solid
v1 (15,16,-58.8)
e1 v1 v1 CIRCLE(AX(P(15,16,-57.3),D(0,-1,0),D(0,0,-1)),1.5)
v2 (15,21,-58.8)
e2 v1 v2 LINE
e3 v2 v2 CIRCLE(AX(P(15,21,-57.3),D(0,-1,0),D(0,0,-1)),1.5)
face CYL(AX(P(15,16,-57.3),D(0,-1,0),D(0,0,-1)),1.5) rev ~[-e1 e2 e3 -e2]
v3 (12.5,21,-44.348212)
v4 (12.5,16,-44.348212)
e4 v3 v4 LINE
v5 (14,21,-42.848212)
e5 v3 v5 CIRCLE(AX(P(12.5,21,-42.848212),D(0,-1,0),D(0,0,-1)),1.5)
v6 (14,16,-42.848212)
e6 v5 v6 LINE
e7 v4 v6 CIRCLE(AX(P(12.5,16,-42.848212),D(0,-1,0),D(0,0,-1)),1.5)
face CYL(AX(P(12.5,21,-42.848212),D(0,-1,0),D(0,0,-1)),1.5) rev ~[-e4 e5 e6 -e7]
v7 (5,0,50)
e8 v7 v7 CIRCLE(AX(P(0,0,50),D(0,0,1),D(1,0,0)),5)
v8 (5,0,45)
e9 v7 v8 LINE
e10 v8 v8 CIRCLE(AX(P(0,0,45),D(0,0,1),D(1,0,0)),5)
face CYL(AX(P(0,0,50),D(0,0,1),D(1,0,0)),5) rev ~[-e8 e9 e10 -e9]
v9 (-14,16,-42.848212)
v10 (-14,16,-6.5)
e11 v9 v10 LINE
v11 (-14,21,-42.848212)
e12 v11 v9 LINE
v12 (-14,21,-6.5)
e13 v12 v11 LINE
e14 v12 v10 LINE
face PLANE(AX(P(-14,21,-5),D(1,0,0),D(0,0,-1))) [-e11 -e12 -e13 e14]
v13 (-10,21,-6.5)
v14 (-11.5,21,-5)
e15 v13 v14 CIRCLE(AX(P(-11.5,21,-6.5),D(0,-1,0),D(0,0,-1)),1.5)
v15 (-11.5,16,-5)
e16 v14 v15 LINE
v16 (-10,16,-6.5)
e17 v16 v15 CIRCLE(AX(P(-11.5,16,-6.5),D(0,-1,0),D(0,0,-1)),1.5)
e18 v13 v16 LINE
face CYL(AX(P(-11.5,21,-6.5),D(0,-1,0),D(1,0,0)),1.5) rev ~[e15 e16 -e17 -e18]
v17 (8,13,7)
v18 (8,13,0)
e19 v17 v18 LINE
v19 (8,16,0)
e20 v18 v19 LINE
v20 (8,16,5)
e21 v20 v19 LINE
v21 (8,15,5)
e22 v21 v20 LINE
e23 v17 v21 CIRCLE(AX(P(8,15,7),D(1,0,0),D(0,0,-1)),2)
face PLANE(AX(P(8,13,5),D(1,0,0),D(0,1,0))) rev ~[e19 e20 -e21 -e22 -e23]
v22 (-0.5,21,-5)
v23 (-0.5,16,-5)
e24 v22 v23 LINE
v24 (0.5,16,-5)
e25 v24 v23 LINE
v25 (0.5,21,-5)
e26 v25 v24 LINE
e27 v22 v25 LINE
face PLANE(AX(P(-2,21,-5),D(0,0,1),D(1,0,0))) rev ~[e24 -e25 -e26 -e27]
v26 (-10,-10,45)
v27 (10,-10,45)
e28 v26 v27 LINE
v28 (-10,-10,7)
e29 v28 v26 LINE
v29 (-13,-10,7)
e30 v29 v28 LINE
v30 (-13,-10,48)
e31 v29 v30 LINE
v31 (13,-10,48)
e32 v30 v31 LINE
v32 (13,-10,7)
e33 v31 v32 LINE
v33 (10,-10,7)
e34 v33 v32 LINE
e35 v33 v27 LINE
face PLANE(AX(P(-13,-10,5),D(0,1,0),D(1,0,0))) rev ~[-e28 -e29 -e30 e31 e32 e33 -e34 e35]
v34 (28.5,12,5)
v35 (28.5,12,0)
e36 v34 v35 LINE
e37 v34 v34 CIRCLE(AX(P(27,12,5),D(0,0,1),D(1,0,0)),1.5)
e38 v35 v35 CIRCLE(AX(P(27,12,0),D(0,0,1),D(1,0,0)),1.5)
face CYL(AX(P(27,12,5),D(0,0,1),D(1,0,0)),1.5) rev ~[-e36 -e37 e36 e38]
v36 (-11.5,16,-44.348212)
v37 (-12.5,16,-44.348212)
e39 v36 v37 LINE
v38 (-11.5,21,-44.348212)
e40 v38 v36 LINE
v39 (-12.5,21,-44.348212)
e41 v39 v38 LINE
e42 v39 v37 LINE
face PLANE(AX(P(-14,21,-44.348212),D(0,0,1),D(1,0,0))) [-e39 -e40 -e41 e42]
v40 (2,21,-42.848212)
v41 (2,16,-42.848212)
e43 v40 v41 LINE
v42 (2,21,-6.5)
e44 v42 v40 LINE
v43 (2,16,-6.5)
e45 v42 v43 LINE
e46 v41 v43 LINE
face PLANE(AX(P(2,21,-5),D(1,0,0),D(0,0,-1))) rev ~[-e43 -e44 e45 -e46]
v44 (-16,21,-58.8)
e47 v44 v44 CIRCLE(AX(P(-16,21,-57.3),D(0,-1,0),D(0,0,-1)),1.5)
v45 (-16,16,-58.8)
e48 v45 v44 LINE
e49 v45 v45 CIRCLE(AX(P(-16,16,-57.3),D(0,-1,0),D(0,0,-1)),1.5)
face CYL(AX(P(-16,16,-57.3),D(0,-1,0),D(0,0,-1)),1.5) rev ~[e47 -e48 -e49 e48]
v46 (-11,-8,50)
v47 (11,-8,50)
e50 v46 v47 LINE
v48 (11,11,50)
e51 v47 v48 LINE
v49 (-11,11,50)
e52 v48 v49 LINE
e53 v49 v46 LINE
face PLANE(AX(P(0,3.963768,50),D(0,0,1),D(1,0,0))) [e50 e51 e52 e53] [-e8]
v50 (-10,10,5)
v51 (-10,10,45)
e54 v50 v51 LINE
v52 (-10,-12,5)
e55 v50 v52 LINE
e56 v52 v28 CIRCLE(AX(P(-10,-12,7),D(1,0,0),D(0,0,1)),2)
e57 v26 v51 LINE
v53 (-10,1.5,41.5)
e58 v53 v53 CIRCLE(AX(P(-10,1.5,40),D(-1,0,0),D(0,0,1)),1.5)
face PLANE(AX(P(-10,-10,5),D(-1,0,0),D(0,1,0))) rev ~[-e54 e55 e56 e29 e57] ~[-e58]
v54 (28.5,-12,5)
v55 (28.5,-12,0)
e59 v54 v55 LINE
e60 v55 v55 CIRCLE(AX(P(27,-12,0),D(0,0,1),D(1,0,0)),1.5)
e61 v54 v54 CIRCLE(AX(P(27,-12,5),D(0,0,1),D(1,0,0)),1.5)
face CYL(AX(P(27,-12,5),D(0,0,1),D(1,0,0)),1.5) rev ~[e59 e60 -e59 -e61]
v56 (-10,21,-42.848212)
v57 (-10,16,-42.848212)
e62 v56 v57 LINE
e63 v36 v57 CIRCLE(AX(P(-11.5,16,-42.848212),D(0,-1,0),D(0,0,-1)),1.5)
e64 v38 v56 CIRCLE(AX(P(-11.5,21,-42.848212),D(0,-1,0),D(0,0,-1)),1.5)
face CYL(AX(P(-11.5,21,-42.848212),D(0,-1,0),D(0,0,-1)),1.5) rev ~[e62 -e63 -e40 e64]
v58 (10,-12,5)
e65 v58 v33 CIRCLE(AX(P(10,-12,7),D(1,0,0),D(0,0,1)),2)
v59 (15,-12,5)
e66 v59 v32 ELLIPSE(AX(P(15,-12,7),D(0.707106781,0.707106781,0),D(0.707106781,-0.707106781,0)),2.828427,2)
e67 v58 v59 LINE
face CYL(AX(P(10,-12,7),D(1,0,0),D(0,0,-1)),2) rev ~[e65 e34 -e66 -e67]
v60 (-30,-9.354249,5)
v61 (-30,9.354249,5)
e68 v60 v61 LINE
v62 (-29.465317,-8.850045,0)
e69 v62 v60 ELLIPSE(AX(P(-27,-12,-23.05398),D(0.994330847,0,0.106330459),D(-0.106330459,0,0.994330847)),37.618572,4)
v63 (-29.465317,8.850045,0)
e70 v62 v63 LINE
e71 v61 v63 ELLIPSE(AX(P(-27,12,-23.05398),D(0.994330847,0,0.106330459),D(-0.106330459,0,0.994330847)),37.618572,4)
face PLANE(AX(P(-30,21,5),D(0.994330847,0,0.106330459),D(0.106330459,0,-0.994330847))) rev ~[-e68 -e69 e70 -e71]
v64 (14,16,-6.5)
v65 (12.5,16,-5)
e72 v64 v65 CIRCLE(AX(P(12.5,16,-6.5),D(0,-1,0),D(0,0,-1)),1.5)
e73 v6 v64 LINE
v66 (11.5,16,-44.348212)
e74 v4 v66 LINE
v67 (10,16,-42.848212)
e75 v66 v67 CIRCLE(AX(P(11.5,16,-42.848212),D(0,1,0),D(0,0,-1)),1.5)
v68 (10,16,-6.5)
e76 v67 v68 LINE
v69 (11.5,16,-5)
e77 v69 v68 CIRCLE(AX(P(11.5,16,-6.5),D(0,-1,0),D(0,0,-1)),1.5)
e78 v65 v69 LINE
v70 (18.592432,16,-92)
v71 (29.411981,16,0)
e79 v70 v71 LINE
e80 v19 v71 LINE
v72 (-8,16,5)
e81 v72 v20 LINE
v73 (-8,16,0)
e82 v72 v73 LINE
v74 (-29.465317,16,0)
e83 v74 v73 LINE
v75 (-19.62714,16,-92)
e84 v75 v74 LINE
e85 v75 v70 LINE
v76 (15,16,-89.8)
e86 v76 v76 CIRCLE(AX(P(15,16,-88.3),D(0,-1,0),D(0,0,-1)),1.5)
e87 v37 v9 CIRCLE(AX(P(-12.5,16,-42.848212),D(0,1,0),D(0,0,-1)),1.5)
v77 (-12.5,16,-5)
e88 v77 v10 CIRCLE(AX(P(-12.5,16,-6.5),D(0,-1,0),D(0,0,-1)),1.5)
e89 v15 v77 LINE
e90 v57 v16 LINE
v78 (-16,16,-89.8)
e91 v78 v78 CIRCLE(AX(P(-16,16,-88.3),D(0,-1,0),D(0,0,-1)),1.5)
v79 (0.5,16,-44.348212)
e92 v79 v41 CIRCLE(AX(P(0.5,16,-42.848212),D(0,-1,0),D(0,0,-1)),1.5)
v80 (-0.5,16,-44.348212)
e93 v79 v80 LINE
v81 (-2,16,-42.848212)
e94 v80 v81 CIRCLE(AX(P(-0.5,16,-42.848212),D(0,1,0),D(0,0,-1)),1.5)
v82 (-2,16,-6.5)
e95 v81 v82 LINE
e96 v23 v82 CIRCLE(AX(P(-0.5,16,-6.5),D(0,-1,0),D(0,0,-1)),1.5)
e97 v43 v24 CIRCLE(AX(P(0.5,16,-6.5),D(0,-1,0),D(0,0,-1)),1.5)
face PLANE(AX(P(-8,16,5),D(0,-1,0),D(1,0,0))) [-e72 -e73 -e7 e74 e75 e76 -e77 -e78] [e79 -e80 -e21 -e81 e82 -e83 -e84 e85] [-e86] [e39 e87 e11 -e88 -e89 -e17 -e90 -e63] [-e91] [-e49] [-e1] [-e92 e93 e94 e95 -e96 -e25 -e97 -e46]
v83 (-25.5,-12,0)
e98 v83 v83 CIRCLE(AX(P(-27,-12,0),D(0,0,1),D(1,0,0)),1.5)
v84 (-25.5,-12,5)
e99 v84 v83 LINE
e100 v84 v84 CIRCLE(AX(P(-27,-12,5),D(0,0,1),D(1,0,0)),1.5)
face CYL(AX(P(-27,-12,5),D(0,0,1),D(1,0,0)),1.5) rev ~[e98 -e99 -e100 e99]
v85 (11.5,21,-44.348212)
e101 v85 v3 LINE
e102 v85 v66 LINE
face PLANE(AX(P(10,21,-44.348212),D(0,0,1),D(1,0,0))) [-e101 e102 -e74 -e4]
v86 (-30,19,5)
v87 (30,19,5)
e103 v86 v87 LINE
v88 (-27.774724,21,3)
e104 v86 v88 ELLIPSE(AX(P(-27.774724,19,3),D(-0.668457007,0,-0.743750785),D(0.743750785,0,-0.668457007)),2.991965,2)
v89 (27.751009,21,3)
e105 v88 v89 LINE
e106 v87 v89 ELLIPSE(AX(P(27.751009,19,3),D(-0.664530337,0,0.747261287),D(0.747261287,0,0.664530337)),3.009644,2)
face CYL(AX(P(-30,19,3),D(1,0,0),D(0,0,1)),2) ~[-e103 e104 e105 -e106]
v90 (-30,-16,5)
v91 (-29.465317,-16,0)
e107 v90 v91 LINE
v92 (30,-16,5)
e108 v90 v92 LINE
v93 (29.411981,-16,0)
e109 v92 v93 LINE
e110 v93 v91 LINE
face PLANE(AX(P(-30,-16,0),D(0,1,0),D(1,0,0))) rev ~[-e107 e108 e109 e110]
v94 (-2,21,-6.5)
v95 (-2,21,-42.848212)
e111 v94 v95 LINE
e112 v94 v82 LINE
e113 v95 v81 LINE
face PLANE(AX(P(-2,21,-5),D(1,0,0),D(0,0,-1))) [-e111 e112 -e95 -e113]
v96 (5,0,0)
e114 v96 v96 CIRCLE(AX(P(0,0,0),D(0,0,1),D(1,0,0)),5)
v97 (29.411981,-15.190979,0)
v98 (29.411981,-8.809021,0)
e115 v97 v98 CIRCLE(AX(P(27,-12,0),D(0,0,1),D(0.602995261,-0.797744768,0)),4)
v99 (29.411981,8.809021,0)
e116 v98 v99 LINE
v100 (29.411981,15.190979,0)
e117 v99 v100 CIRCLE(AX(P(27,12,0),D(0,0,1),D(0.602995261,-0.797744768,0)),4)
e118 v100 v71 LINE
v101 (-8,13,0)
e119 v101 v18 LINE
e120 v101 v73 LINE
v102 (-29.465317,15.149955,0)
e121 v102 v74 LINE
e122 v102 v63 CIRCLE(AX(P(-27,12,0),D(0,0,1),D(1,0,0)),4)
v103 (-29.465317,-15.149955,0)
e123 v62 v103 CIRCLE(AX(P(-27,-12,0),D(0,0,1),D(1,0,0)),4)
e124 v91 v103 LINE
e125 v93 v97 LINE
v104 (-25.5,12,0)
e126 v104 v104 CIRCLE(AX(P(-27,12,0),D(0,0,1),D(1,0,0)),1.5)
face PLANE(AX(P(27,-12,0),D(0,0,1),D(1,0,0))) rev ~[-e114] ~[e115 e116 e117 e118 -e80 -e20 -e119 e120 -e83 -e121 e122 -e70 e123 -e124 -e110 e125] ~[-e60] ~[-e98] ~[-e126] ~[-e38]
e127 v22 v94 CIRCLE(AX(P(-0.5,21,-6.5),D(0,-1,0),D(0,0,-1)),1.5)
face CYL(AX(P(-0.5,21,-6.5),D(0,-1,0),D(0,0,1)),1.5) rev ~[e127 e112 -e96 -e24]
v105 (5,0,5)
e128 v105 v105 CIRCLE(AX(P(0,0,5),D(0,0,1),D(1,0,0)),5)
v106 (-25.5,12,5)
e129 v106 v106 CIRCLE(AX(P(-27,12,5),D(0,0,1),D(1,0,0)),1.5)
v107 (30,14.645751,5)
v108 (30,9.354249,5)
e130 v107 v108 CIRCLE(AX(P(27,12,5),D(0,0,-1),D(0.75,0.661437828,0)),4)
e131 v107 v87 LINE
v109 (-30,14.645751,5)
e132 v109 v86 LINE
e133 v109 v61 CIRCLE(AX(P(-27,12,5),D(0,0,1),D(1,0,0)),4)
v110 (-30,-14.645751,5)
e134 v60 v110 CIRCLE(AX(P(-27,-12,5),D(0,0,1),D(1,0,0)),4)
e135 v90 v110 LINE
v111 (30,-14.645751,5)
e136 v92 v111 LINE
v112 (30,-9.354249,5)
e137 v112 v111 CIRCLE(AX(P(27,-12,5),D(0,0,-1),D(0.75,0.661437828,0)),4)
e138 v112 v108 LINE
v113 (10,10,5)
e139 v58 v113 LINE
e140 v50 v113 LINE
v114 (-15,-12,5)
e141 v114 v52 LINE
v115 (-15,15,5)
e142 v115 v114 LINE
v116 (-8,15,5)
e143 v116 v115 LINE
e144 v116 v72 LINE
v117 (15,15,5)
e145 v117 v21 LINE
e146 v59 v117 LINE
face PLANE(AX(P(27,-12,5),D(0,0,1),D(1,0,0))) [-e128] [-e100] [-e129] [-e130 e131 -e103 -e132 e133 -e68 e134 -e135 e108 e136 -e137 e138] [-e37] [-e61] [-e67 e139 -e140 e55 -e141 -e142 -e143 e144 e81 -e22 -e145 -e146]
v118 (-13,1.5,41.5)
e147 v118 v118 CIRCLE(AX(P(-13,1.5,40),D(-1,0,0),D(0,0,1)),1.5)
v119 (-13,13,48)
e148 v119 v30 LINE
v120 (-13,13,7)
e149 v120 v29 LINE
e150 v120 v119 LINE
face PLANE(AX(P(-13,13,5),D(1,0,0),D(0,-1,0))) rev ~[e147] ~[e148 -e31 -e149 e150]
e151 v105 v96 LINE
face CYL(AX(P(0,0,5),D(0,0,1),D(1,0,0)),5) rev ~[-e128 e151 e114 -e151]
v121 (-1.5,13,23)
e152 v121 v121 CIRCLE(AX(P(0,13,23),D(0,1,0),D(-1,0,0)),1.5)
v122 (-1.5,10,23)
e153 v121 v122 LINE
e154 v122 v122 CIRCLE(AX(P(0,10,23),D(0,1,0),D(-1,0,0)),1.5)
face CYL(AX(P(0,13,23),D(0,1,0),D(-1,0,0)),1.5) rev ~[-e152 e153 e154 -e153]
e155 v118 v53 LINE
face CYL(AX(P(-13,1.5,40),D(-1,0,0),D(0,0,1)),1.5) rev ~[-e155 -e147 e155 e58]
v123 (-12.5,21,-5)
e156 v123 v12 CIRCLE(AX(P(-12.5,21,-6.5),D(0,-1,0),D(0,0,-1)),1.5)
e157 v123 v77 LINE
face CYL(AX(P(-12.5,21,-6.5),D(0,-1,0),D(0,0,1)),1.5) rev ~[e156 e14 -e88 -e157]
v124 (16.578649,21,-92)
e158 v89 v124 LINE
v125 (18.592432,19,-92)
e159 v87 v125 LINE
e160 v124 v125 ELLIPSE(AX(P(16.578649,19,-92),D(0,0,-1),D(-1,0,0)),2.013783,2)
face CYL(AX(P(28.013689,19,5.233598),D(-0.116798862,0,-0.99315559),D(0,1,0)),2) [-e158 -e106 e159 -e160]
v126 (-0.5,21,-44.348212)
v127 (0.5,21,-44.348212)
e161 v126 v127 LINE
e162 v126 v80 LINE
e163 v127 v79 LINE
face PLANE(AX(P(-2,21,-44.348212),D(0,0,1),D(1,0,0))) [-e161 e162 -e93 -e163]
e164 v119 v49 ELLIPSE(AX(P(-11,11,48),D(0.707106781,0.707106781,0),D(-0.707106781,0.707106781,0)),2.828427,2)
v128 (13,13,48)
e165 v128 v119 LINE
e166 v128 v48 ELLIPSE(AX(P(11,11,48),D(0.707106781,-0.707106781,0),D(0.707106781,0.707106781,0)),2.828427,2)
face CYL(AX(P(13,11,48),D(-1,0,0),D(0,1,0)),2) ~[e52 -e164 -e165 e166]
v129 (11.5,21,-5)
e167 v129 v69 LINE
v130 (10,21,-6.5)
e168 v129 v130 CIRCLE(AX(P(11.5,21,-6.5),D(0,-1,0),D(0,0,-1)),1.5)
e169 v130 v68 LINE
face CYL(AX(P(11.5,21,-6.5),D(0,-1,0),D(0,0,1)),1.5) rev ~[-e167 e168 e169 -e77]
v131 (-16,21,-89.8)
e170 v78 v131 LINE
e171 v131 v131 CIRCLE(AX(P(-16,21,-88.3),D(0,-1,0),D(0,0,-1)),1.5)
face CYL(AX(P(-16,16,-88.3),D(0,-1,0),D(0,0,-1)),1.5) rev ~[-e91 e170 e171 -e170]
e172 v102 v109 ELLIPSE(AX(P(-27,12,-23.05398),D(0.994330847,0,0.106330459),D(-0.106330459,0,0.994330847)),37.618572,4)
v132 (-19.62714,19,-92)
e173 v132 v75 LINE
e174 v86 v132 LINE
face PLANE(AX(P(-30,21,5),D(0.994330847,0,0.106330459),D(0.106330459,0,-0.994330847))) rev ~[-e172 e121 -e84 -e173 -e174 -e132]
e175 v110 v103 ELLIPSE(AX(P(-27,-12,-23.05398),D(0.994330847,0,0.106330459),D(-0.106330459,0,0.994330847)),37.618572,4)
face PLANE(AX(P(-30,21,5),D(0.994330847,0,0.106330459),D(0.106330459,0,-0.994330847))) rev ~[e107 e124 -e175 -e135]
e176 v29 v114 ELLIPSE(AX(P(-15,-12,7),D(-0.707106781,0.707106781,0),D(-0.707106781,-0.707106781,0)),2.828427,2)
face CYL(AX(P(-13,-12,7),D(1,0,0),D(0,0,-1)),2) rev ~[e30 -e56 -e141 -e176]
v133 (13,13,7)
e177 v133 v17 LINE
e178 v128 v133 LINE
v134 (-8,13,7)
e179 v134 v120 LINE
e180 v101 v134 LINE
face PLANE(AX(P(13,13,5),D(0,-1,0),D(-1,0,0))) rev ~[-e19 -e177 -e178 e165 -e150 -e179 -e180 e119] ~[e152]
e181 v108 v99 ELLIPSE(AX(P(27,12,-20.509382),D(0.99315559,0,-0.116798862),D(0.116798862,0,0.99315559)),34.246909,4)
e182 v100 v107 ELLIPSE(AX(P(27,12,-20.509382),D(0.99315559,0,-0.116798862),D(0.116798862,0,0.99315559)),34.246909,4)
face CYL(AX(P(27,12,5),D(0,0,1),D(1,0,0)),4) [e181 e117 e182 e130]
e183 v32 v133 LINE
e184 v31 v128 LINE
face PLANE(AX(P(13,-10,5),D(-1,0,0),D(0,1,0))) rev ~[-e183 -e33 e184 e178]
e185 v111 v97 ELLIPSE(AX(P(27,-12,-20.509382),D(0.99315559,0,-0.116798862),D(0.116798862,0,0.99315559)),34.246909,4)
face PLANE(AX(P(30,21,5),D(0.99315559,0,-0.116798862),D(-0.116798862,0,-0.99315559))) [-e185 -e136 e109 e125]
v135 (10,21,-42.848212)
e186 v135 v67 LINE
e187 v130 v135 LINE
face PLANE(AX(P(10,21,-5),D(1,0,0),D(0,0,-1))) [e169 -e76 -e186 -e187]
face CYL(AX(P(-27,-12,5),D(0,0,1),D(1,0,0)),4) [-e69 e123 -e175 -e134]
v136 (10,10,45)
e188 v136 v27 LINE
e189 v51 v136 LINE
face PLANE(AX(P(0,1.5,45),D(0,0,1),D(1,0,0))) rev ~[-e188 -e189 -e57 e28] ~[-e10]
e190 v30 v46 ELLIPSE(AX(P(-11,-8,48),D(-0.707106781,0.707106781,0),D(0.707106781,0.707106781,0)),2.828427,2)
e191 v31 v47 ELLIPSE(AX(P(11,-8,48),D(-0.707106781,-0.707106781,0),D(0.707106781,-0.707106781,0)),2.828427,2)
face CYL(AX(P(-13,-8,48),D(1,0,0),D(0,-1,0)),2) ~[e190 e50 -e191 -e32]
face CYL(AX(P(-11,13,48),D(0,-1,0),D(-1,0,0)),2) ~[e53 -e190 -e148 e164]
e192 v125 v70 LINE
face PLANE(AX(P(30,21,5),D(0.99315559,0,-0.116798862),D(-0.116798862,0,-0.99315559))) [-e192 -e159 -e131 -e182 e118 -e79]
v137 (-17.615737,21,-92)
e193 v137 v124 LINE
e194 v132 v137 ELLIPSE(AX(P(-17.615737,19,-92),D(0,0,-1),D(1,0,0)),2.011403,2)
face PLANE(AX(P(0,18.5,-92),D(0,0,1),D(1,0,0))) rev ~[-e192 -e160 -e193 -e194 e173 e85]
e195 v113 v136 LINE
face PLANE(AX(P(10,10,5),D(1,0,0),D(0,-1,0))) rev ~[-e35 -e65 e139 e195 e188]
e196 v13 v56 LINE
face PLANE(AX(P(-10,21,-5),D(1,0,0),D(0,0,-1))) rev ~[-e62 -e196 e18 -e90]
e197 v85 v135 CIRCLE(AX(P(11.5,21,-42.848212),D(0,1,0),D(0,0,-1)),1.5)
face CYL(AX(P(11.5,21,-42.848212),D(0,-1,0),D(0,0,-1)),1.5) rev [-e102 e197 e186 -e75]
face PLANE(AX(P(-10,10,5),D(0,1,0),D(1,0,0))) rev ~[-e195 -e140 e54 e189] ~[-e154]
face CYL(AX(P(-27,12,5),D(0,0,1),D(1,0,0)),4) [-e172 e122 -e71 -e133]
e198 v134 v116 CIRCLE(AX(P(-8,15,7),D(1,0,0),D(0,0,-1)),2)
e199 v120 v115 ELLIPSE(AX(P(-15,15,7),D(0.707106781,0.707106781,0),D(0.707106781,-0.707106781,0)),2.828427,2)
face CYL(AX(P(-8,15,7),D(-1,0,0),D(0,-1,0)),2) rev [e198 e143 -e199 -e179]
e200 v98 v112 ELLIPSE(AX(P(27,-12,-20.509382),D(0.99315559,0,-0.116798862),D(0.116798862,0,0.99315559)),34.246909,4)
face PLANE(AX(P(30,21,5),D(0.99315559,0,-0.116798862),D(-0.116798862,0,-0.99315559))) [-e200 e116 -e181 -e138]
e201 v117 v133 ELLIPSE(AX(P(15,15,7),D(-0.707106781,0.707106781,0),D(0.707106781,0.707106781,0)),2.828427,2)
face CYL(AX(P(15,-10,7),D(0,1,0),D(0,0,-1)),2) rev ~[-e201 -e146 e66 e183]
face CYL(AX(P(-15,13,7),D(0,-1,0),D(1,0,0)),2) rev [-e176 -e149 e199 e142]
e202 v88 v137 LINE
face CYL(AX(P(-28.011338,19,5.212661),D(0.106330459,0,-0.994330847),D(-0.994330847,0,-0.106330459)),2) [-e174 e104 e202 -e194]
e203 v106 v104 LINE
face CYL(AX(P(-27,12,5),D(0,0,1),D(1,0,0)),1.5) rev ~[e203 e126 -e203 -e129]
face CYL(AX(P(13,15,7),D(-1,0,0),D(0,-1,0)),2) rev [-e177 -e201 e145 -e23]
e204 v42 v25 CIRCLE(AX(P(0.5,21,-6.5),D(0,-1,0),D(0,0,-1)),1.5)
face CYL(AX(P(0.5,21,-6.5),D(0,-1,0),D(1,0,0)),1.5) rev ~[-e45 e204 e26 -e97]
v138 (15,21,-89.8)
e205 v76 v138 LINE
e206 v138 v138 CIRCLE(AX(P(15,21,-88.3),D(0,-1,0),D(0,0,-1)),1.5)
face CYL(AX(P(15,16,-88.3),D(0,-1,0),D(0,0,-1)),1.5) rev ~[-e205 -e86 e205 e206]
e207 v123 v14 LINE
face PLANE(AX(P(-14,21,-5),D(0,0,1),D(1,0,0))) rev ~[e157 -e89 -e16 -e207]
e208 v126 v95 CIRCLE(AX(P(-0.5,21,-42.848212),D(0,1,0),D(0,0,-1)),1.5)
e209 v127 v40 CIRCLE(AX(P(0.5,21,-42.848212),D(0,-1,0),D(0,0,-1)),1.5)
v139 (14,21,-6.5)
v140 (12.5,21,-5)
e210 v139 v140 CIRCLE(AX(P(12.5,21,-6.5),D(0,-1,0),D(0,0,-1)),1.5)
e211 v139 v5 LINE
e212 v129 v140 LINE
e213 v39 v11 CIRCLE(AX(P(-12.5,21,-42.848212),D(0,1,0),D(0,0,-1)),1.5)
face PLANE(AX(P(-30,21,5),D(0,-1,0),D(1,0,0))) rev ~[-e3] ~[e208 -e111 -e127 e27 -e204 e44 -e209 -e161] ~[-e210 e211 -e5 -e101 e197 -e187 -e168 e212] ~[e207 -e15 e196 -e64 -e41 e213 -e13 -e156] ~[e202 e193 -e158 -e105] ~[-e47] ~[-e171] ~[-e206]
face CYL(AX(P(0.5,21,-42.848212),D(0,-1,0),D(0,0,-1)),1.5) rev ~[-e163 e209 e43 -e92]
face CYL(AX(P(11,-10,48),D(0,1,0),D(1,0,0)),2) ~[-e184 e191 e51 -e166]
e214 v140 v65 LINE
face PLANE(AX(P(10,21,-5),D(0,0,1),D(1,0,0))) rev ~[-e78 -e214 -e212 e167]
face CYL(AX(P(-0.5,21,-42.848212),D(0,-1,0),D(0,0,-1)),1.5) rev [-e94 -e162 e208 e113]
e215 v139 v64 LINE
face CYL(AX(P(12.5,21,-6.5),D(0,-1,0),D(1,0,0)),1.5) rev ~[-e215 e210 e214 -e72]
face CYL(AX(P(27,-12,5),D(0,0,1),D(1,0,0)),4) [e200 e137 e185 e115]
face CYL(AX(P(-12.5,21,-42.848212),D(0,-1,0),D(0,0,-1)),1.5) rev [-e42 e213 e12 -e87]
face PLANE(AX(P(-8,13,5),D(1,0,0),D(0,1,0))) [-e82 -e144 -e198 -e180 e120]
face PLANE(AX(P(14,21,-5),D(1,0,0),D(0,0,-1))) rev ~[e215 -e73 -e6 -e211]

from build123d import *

# Parameters (mm, degrees)
SKETCH1_W           = 60
SKETCH1_H           = 32
BOSS_EXTRUDE1_DEPTH = 5
SKETCH2_R           = 1.5
CUT_EXTRUDE1_DEPTH  = 5
SKETCH4_R           = 5
CUT_EXTRUDE2_DEPTH  = 5
SKETCH5_W           = 60
SKETCH5_H           = 5
BOSS_EXTRUDE2_DEPTH = 97
SKETCH6_R           = 1.5
CUT_EXTRUDE3_DEPTH  = 100
CUT_EXTRUDE4_DEPTH  = 100
BOSS_EXTRUDE3_DEPTH = 45
SKETCH9_W           = 26
SKETCH9_H           = 23
BOSS_EXTRUDE4_DEPTH = 5
SKETCH10_R          = 5
CUT_EXTRUDE5_DEPTH  = 5
SKETCH17_W          = 16
SKETCH17_H          = 3
CUT_EXTRUDE6_DEPTH  = 10
SKETCH18_R          = 1.5
CUT_EXTRUDE7_DEPTH  = 10
FILLET3_R           = 2
FILLET4_R           = 2
FILLET5_R           = 2
SKETCH34_R          = 4
SKETCH34_R_2        = 1.5
BOSS_EXTRUDE5_DEPTH = 5
SKETCH36_R          = 4
SKETCH36_R_2        = 1.5
BOSS_EXTRUDE6_DEPTH = 5
SKETCH37_R          = 4
SKETCH37_R_2        = 1.5
BOSS_EXTRUDE7_DEPTH = 5
SKETCH38_R          = 4
SKETCH38_R_2        = 1.5
BOSS_EXTRUDE8_DEPTH = 5
SKETCH40_W          = 4
SKETCH40_H          = 39.348212258
CUT_EXTRUDE8_DEPTH  = 10
FILLET6_R           = 1.5
SKETCH43_R          = 1.5
CUT_EXTRUDE10_DEPTH = 9


with BuildPart() as part:
    # Sketch1 → Boss-Extrude1 (new body)
    with BuildSketch(Plane.XY):
        Rectangle(SKETCH1_W, SKETCH1_H)
    extrude(amount=BOSS_EXTRUDE1_DEPTH)

    # Sketch2 → Cut-Extrude1 (cut)
    with BuildSketch(Plane.XY.offset(5)):
        with Locations((27, 12)):
            Circle(SKETCH2_R)
        with Locations((27, -12)):
            Circle(SKETCH2_R)
        with Locations((-27, -12)):
            Circle(SKETCH2_R)
        with Locations((-27, 12)):
            Circle(SKETCH2_R)
    extrude(amount=-CUT_EXTRUDE1_DEPTH, mode=Mode.SUBTRACT)

    # Sketch4 → Cut-Extrude2 (cut)
    with BuildSketch(Plane.XY.offset(5)):
        Circle(SKETCH4_R)
    extrude(amount=-CUT_EXTRUDE2_DEPTH, mode=Mode.SUBTRACT)

    # Sketch5 → Boss-Extrude2 (add)
    with BuildSketch(Plane.XY.offset(5)):
        with Locations((0, 18.5)):
            Rectangle(SKETCH5_W, SKETCH5_H)
    extrude(amount=-BOSS_EXTRUDE2_DEPTH)

    # Sketch6 → Cut-Extrude3 (cut)
    with BuildSketch(Plane.XZ.offset(-16)):
        with Locations(Location((15, -57.3, 0), (0, 0, 270))):
            Circle(SKETCH6_R)
        with Locations(Location((-16, -57.3, 0), (0, 0, 270))):
            Circle(SKETCH6_R)
        with Locations(Location((15, -88.3, 0), (0, 0, 270))):
            Circle(SKETCH6_R)
        with Locations(Location((-16, -88.3, 0), (0, 0, 270))):
            Circle(SKETCH6_R)
    extrude(amount=-CUT_EXTRUDE3_DEPTH, mode=Mode.SUBTRACT)

    # Sketch7 → Cut-Extrude4 (cut)
    with BuildSketch(Plane(origin=(0, 21, 0), x_dir=(1, 0, 0), z_dir=(0, 1, 0))):
        Polygon((30, -5), (18.592432289, 92), (30, 92), align=None)
        Polygon((-30, -5), (-19.627140112, 92), (-30, 92), align=None)
    extrude(amount=-CUT_EXTRUDE4_DEPTH, mode=Mode.SUBTRACT)

    # Sketch8 → Boss-Extrude3 (add)
    with BuildSketch(Plane.XY.offset(5)):
        Polygon((13, 13), (-13, 13), (-13, -10), (-10, -10), (-10, 10), (10, 10), (10, -10), (13, -10), align=None)
    extrude(amount=BOSS_EXTRUDE3_DEPTH)

    # Sketch9 → Boss-Extrude4 (add)
    with BuildSketch(Plane.XY.offset(50)):
        with Locations((0, 1.5)):
            Rectangle(SKETCH9_W, SKETCH9_H)
    extrude(amount=-BOSS_EXTRUDE4_DEPTH)

    # Sketch10 → Cut-Extrude5 (cut)
    with BuildSketch(Plane.XY.offset(50)):
        Circle(SKETCH10_R)
    extrude(amount=-CUT_EXTRUDE5_DEPTH, mode=Mode.SUBTRACT)

    # Sketch17 → Cut-Extrude6 (cut)
    with BuildSketch(Plane.XY.offset(5)):
        with Locations((0, 14.5)):
            Rectangle(SKETCH17_W, SKETCH17_H)
    extrude(amount=-CUT_EXTRUDE6_DEPTH, mode=Mode.SUBTRACT)

    # Sketch18 → Cut-Extrude7 (cut)
    with BuildSketch(Plane(origin=(0, 13, 0), x_dir=(1, 0, 0), z_dir=(0, 1, 0))):
        with Locations(Location((0, -23, 0), (0, 0, 180))):
            Circle(SKETCH18_R)
    extrude(amount=-CUT_EXTRUDE7_DEPTH, mode=Mode.SUBTRACT)

    # Fillet3
    fillet3_edges = [part.edges().sort_by_distance(p)[0] for p in [
        (0, 21, 5),
        (24.296216145, 21, -43.5),
        (-24.813570056, 21, -43.5),
    ]]
    fillet(fillet3_edges, radius=FILLET3_R)

    # Fillet4
    fillet4_edges = [part.edges().sort_by_distance(p)[0] for p in [
        (0, -10, 50),
        (13, 1.5, 50),
        (0, 13, 50),
        (-13, 1.5, 50),
    ]]
    fillet(fillet4_edges, radius=FILLET4_R)

    # Fillet5
    fillet5_edges = [part.edges().sort_by_distance(p)[0] for p in [
        (11.5, -10, 5),
        (13, 1.5, 5),
        (10.5, 13, 5),
        (-13, 1.5, 5),
        (-11.5, -10, 5),
        (-10.5, 13, 5),
    ]]
    fillet(fillet5_edges, radius=FILLET5_R)

    # Sketch34 → Boss-Extrude5 (add)
    with BuildSketch(Plane.XY.offset(5)):
        with Locations((-27, 12)):
            Circle(SKETCH34_R)
        with Locations((-27, 12)):
            Circle(SKETCH34_R_2, mode=Mode.SUBTRACT)
    extrude(amount=-BOSS_EXTRUDE5_DEPTH)

    # Sketch36 → Boss-Extrude6 (add)
    with BuildSketch(Plane.XY.offset(5)):
        with Locations((-27, -12)):
            Circle(SKETCH36_R)
        with Locations((-27, -12)):
            Circle(SKETCH36_R_2, mode=Mode.SUBTRACT)
    extrude(amount=-BOSS_EXTRUDE6_DEPTH)

    # Sketch37 → Boss-Extrude7 (add)
    with BuildSketch(Plane.XY.offset(5)):
        with Locations((27, 12)):
            Circle(SKETCH37_R)
        with Locations((27, 12)):
            Circle(SKETCH37_R_2, mode=Mode.SUBTRACT)
    extrude(amount=-BOSS_EXTRUDE7_DEPTH)

    # Sketch38 → Boss-Extrude8 (add)
    with BuildSketch(Plane.XY.offset(5)):
        with Locations((27, -12)):
            Circle(SKETCH38_R)
        with Locations((27, -12)):
            Circle(SKETCH38_R_2, mode=Mode.SUBTRACT)
    extrude(amount=-BOSS_EXTRUDE8_DEPTH)

    # Sketch40 → Cut-Extrude8 (cut)
    with BuildSketch(Plane(origin=(0, 21, 0), x_dir=(1, 0, 0), z_dir=(0, 1, 0))):
        with Locations((12, 24.674106129)):
            Rectangle(SKETCH40_W, SKETCH40_H)
        with Locations((0, 24.674106129)):
            Rectangle(SKETCH40_W, SKETCH40_H)
        with Locations((-12, 24.674106129)):
            Rectangle(SKETCH40_W, SKETCH40_H)
    extrude(amount=-CUT_EXTRUDE8_DEPTH, mode=Mode.SUBTRACT)

    # Fillet6
    fillet6_edges = [part.edges().sort_by_distance(p)[0] for p in [
        (-10, 18.5, -5),
        (-14, 18.5, -5),
        (-14, 18.5, -44.348212258),
        (-10, 18.5, -44.348212258),
        (2, 18.5, -5),
        (-2, 18.5, -5),
        (-2, 18.5, -44.348212258),
        (2, 18.5, -44.348212258),
        (14, 18.5, -5),
        (10, 18.5, -5),
        (10, 18.5, -44.348212258),
        (14, 18.5, -44.348212258),
    ]]
    fillet(fillet6_edges, radius=FILLET6_R)

    # Sketch43 → Cut-Extrude10 (cut)
    with BuildSketch(Plane.ZY.offset(13)):
        with Locations((40, 1.5)):
            Circle(SKETCH43_R)
    extrude(amount=-CUT_EXTRUDE10_DEPTH, mode=Mode.SUBTRACT)


solid = part.part
